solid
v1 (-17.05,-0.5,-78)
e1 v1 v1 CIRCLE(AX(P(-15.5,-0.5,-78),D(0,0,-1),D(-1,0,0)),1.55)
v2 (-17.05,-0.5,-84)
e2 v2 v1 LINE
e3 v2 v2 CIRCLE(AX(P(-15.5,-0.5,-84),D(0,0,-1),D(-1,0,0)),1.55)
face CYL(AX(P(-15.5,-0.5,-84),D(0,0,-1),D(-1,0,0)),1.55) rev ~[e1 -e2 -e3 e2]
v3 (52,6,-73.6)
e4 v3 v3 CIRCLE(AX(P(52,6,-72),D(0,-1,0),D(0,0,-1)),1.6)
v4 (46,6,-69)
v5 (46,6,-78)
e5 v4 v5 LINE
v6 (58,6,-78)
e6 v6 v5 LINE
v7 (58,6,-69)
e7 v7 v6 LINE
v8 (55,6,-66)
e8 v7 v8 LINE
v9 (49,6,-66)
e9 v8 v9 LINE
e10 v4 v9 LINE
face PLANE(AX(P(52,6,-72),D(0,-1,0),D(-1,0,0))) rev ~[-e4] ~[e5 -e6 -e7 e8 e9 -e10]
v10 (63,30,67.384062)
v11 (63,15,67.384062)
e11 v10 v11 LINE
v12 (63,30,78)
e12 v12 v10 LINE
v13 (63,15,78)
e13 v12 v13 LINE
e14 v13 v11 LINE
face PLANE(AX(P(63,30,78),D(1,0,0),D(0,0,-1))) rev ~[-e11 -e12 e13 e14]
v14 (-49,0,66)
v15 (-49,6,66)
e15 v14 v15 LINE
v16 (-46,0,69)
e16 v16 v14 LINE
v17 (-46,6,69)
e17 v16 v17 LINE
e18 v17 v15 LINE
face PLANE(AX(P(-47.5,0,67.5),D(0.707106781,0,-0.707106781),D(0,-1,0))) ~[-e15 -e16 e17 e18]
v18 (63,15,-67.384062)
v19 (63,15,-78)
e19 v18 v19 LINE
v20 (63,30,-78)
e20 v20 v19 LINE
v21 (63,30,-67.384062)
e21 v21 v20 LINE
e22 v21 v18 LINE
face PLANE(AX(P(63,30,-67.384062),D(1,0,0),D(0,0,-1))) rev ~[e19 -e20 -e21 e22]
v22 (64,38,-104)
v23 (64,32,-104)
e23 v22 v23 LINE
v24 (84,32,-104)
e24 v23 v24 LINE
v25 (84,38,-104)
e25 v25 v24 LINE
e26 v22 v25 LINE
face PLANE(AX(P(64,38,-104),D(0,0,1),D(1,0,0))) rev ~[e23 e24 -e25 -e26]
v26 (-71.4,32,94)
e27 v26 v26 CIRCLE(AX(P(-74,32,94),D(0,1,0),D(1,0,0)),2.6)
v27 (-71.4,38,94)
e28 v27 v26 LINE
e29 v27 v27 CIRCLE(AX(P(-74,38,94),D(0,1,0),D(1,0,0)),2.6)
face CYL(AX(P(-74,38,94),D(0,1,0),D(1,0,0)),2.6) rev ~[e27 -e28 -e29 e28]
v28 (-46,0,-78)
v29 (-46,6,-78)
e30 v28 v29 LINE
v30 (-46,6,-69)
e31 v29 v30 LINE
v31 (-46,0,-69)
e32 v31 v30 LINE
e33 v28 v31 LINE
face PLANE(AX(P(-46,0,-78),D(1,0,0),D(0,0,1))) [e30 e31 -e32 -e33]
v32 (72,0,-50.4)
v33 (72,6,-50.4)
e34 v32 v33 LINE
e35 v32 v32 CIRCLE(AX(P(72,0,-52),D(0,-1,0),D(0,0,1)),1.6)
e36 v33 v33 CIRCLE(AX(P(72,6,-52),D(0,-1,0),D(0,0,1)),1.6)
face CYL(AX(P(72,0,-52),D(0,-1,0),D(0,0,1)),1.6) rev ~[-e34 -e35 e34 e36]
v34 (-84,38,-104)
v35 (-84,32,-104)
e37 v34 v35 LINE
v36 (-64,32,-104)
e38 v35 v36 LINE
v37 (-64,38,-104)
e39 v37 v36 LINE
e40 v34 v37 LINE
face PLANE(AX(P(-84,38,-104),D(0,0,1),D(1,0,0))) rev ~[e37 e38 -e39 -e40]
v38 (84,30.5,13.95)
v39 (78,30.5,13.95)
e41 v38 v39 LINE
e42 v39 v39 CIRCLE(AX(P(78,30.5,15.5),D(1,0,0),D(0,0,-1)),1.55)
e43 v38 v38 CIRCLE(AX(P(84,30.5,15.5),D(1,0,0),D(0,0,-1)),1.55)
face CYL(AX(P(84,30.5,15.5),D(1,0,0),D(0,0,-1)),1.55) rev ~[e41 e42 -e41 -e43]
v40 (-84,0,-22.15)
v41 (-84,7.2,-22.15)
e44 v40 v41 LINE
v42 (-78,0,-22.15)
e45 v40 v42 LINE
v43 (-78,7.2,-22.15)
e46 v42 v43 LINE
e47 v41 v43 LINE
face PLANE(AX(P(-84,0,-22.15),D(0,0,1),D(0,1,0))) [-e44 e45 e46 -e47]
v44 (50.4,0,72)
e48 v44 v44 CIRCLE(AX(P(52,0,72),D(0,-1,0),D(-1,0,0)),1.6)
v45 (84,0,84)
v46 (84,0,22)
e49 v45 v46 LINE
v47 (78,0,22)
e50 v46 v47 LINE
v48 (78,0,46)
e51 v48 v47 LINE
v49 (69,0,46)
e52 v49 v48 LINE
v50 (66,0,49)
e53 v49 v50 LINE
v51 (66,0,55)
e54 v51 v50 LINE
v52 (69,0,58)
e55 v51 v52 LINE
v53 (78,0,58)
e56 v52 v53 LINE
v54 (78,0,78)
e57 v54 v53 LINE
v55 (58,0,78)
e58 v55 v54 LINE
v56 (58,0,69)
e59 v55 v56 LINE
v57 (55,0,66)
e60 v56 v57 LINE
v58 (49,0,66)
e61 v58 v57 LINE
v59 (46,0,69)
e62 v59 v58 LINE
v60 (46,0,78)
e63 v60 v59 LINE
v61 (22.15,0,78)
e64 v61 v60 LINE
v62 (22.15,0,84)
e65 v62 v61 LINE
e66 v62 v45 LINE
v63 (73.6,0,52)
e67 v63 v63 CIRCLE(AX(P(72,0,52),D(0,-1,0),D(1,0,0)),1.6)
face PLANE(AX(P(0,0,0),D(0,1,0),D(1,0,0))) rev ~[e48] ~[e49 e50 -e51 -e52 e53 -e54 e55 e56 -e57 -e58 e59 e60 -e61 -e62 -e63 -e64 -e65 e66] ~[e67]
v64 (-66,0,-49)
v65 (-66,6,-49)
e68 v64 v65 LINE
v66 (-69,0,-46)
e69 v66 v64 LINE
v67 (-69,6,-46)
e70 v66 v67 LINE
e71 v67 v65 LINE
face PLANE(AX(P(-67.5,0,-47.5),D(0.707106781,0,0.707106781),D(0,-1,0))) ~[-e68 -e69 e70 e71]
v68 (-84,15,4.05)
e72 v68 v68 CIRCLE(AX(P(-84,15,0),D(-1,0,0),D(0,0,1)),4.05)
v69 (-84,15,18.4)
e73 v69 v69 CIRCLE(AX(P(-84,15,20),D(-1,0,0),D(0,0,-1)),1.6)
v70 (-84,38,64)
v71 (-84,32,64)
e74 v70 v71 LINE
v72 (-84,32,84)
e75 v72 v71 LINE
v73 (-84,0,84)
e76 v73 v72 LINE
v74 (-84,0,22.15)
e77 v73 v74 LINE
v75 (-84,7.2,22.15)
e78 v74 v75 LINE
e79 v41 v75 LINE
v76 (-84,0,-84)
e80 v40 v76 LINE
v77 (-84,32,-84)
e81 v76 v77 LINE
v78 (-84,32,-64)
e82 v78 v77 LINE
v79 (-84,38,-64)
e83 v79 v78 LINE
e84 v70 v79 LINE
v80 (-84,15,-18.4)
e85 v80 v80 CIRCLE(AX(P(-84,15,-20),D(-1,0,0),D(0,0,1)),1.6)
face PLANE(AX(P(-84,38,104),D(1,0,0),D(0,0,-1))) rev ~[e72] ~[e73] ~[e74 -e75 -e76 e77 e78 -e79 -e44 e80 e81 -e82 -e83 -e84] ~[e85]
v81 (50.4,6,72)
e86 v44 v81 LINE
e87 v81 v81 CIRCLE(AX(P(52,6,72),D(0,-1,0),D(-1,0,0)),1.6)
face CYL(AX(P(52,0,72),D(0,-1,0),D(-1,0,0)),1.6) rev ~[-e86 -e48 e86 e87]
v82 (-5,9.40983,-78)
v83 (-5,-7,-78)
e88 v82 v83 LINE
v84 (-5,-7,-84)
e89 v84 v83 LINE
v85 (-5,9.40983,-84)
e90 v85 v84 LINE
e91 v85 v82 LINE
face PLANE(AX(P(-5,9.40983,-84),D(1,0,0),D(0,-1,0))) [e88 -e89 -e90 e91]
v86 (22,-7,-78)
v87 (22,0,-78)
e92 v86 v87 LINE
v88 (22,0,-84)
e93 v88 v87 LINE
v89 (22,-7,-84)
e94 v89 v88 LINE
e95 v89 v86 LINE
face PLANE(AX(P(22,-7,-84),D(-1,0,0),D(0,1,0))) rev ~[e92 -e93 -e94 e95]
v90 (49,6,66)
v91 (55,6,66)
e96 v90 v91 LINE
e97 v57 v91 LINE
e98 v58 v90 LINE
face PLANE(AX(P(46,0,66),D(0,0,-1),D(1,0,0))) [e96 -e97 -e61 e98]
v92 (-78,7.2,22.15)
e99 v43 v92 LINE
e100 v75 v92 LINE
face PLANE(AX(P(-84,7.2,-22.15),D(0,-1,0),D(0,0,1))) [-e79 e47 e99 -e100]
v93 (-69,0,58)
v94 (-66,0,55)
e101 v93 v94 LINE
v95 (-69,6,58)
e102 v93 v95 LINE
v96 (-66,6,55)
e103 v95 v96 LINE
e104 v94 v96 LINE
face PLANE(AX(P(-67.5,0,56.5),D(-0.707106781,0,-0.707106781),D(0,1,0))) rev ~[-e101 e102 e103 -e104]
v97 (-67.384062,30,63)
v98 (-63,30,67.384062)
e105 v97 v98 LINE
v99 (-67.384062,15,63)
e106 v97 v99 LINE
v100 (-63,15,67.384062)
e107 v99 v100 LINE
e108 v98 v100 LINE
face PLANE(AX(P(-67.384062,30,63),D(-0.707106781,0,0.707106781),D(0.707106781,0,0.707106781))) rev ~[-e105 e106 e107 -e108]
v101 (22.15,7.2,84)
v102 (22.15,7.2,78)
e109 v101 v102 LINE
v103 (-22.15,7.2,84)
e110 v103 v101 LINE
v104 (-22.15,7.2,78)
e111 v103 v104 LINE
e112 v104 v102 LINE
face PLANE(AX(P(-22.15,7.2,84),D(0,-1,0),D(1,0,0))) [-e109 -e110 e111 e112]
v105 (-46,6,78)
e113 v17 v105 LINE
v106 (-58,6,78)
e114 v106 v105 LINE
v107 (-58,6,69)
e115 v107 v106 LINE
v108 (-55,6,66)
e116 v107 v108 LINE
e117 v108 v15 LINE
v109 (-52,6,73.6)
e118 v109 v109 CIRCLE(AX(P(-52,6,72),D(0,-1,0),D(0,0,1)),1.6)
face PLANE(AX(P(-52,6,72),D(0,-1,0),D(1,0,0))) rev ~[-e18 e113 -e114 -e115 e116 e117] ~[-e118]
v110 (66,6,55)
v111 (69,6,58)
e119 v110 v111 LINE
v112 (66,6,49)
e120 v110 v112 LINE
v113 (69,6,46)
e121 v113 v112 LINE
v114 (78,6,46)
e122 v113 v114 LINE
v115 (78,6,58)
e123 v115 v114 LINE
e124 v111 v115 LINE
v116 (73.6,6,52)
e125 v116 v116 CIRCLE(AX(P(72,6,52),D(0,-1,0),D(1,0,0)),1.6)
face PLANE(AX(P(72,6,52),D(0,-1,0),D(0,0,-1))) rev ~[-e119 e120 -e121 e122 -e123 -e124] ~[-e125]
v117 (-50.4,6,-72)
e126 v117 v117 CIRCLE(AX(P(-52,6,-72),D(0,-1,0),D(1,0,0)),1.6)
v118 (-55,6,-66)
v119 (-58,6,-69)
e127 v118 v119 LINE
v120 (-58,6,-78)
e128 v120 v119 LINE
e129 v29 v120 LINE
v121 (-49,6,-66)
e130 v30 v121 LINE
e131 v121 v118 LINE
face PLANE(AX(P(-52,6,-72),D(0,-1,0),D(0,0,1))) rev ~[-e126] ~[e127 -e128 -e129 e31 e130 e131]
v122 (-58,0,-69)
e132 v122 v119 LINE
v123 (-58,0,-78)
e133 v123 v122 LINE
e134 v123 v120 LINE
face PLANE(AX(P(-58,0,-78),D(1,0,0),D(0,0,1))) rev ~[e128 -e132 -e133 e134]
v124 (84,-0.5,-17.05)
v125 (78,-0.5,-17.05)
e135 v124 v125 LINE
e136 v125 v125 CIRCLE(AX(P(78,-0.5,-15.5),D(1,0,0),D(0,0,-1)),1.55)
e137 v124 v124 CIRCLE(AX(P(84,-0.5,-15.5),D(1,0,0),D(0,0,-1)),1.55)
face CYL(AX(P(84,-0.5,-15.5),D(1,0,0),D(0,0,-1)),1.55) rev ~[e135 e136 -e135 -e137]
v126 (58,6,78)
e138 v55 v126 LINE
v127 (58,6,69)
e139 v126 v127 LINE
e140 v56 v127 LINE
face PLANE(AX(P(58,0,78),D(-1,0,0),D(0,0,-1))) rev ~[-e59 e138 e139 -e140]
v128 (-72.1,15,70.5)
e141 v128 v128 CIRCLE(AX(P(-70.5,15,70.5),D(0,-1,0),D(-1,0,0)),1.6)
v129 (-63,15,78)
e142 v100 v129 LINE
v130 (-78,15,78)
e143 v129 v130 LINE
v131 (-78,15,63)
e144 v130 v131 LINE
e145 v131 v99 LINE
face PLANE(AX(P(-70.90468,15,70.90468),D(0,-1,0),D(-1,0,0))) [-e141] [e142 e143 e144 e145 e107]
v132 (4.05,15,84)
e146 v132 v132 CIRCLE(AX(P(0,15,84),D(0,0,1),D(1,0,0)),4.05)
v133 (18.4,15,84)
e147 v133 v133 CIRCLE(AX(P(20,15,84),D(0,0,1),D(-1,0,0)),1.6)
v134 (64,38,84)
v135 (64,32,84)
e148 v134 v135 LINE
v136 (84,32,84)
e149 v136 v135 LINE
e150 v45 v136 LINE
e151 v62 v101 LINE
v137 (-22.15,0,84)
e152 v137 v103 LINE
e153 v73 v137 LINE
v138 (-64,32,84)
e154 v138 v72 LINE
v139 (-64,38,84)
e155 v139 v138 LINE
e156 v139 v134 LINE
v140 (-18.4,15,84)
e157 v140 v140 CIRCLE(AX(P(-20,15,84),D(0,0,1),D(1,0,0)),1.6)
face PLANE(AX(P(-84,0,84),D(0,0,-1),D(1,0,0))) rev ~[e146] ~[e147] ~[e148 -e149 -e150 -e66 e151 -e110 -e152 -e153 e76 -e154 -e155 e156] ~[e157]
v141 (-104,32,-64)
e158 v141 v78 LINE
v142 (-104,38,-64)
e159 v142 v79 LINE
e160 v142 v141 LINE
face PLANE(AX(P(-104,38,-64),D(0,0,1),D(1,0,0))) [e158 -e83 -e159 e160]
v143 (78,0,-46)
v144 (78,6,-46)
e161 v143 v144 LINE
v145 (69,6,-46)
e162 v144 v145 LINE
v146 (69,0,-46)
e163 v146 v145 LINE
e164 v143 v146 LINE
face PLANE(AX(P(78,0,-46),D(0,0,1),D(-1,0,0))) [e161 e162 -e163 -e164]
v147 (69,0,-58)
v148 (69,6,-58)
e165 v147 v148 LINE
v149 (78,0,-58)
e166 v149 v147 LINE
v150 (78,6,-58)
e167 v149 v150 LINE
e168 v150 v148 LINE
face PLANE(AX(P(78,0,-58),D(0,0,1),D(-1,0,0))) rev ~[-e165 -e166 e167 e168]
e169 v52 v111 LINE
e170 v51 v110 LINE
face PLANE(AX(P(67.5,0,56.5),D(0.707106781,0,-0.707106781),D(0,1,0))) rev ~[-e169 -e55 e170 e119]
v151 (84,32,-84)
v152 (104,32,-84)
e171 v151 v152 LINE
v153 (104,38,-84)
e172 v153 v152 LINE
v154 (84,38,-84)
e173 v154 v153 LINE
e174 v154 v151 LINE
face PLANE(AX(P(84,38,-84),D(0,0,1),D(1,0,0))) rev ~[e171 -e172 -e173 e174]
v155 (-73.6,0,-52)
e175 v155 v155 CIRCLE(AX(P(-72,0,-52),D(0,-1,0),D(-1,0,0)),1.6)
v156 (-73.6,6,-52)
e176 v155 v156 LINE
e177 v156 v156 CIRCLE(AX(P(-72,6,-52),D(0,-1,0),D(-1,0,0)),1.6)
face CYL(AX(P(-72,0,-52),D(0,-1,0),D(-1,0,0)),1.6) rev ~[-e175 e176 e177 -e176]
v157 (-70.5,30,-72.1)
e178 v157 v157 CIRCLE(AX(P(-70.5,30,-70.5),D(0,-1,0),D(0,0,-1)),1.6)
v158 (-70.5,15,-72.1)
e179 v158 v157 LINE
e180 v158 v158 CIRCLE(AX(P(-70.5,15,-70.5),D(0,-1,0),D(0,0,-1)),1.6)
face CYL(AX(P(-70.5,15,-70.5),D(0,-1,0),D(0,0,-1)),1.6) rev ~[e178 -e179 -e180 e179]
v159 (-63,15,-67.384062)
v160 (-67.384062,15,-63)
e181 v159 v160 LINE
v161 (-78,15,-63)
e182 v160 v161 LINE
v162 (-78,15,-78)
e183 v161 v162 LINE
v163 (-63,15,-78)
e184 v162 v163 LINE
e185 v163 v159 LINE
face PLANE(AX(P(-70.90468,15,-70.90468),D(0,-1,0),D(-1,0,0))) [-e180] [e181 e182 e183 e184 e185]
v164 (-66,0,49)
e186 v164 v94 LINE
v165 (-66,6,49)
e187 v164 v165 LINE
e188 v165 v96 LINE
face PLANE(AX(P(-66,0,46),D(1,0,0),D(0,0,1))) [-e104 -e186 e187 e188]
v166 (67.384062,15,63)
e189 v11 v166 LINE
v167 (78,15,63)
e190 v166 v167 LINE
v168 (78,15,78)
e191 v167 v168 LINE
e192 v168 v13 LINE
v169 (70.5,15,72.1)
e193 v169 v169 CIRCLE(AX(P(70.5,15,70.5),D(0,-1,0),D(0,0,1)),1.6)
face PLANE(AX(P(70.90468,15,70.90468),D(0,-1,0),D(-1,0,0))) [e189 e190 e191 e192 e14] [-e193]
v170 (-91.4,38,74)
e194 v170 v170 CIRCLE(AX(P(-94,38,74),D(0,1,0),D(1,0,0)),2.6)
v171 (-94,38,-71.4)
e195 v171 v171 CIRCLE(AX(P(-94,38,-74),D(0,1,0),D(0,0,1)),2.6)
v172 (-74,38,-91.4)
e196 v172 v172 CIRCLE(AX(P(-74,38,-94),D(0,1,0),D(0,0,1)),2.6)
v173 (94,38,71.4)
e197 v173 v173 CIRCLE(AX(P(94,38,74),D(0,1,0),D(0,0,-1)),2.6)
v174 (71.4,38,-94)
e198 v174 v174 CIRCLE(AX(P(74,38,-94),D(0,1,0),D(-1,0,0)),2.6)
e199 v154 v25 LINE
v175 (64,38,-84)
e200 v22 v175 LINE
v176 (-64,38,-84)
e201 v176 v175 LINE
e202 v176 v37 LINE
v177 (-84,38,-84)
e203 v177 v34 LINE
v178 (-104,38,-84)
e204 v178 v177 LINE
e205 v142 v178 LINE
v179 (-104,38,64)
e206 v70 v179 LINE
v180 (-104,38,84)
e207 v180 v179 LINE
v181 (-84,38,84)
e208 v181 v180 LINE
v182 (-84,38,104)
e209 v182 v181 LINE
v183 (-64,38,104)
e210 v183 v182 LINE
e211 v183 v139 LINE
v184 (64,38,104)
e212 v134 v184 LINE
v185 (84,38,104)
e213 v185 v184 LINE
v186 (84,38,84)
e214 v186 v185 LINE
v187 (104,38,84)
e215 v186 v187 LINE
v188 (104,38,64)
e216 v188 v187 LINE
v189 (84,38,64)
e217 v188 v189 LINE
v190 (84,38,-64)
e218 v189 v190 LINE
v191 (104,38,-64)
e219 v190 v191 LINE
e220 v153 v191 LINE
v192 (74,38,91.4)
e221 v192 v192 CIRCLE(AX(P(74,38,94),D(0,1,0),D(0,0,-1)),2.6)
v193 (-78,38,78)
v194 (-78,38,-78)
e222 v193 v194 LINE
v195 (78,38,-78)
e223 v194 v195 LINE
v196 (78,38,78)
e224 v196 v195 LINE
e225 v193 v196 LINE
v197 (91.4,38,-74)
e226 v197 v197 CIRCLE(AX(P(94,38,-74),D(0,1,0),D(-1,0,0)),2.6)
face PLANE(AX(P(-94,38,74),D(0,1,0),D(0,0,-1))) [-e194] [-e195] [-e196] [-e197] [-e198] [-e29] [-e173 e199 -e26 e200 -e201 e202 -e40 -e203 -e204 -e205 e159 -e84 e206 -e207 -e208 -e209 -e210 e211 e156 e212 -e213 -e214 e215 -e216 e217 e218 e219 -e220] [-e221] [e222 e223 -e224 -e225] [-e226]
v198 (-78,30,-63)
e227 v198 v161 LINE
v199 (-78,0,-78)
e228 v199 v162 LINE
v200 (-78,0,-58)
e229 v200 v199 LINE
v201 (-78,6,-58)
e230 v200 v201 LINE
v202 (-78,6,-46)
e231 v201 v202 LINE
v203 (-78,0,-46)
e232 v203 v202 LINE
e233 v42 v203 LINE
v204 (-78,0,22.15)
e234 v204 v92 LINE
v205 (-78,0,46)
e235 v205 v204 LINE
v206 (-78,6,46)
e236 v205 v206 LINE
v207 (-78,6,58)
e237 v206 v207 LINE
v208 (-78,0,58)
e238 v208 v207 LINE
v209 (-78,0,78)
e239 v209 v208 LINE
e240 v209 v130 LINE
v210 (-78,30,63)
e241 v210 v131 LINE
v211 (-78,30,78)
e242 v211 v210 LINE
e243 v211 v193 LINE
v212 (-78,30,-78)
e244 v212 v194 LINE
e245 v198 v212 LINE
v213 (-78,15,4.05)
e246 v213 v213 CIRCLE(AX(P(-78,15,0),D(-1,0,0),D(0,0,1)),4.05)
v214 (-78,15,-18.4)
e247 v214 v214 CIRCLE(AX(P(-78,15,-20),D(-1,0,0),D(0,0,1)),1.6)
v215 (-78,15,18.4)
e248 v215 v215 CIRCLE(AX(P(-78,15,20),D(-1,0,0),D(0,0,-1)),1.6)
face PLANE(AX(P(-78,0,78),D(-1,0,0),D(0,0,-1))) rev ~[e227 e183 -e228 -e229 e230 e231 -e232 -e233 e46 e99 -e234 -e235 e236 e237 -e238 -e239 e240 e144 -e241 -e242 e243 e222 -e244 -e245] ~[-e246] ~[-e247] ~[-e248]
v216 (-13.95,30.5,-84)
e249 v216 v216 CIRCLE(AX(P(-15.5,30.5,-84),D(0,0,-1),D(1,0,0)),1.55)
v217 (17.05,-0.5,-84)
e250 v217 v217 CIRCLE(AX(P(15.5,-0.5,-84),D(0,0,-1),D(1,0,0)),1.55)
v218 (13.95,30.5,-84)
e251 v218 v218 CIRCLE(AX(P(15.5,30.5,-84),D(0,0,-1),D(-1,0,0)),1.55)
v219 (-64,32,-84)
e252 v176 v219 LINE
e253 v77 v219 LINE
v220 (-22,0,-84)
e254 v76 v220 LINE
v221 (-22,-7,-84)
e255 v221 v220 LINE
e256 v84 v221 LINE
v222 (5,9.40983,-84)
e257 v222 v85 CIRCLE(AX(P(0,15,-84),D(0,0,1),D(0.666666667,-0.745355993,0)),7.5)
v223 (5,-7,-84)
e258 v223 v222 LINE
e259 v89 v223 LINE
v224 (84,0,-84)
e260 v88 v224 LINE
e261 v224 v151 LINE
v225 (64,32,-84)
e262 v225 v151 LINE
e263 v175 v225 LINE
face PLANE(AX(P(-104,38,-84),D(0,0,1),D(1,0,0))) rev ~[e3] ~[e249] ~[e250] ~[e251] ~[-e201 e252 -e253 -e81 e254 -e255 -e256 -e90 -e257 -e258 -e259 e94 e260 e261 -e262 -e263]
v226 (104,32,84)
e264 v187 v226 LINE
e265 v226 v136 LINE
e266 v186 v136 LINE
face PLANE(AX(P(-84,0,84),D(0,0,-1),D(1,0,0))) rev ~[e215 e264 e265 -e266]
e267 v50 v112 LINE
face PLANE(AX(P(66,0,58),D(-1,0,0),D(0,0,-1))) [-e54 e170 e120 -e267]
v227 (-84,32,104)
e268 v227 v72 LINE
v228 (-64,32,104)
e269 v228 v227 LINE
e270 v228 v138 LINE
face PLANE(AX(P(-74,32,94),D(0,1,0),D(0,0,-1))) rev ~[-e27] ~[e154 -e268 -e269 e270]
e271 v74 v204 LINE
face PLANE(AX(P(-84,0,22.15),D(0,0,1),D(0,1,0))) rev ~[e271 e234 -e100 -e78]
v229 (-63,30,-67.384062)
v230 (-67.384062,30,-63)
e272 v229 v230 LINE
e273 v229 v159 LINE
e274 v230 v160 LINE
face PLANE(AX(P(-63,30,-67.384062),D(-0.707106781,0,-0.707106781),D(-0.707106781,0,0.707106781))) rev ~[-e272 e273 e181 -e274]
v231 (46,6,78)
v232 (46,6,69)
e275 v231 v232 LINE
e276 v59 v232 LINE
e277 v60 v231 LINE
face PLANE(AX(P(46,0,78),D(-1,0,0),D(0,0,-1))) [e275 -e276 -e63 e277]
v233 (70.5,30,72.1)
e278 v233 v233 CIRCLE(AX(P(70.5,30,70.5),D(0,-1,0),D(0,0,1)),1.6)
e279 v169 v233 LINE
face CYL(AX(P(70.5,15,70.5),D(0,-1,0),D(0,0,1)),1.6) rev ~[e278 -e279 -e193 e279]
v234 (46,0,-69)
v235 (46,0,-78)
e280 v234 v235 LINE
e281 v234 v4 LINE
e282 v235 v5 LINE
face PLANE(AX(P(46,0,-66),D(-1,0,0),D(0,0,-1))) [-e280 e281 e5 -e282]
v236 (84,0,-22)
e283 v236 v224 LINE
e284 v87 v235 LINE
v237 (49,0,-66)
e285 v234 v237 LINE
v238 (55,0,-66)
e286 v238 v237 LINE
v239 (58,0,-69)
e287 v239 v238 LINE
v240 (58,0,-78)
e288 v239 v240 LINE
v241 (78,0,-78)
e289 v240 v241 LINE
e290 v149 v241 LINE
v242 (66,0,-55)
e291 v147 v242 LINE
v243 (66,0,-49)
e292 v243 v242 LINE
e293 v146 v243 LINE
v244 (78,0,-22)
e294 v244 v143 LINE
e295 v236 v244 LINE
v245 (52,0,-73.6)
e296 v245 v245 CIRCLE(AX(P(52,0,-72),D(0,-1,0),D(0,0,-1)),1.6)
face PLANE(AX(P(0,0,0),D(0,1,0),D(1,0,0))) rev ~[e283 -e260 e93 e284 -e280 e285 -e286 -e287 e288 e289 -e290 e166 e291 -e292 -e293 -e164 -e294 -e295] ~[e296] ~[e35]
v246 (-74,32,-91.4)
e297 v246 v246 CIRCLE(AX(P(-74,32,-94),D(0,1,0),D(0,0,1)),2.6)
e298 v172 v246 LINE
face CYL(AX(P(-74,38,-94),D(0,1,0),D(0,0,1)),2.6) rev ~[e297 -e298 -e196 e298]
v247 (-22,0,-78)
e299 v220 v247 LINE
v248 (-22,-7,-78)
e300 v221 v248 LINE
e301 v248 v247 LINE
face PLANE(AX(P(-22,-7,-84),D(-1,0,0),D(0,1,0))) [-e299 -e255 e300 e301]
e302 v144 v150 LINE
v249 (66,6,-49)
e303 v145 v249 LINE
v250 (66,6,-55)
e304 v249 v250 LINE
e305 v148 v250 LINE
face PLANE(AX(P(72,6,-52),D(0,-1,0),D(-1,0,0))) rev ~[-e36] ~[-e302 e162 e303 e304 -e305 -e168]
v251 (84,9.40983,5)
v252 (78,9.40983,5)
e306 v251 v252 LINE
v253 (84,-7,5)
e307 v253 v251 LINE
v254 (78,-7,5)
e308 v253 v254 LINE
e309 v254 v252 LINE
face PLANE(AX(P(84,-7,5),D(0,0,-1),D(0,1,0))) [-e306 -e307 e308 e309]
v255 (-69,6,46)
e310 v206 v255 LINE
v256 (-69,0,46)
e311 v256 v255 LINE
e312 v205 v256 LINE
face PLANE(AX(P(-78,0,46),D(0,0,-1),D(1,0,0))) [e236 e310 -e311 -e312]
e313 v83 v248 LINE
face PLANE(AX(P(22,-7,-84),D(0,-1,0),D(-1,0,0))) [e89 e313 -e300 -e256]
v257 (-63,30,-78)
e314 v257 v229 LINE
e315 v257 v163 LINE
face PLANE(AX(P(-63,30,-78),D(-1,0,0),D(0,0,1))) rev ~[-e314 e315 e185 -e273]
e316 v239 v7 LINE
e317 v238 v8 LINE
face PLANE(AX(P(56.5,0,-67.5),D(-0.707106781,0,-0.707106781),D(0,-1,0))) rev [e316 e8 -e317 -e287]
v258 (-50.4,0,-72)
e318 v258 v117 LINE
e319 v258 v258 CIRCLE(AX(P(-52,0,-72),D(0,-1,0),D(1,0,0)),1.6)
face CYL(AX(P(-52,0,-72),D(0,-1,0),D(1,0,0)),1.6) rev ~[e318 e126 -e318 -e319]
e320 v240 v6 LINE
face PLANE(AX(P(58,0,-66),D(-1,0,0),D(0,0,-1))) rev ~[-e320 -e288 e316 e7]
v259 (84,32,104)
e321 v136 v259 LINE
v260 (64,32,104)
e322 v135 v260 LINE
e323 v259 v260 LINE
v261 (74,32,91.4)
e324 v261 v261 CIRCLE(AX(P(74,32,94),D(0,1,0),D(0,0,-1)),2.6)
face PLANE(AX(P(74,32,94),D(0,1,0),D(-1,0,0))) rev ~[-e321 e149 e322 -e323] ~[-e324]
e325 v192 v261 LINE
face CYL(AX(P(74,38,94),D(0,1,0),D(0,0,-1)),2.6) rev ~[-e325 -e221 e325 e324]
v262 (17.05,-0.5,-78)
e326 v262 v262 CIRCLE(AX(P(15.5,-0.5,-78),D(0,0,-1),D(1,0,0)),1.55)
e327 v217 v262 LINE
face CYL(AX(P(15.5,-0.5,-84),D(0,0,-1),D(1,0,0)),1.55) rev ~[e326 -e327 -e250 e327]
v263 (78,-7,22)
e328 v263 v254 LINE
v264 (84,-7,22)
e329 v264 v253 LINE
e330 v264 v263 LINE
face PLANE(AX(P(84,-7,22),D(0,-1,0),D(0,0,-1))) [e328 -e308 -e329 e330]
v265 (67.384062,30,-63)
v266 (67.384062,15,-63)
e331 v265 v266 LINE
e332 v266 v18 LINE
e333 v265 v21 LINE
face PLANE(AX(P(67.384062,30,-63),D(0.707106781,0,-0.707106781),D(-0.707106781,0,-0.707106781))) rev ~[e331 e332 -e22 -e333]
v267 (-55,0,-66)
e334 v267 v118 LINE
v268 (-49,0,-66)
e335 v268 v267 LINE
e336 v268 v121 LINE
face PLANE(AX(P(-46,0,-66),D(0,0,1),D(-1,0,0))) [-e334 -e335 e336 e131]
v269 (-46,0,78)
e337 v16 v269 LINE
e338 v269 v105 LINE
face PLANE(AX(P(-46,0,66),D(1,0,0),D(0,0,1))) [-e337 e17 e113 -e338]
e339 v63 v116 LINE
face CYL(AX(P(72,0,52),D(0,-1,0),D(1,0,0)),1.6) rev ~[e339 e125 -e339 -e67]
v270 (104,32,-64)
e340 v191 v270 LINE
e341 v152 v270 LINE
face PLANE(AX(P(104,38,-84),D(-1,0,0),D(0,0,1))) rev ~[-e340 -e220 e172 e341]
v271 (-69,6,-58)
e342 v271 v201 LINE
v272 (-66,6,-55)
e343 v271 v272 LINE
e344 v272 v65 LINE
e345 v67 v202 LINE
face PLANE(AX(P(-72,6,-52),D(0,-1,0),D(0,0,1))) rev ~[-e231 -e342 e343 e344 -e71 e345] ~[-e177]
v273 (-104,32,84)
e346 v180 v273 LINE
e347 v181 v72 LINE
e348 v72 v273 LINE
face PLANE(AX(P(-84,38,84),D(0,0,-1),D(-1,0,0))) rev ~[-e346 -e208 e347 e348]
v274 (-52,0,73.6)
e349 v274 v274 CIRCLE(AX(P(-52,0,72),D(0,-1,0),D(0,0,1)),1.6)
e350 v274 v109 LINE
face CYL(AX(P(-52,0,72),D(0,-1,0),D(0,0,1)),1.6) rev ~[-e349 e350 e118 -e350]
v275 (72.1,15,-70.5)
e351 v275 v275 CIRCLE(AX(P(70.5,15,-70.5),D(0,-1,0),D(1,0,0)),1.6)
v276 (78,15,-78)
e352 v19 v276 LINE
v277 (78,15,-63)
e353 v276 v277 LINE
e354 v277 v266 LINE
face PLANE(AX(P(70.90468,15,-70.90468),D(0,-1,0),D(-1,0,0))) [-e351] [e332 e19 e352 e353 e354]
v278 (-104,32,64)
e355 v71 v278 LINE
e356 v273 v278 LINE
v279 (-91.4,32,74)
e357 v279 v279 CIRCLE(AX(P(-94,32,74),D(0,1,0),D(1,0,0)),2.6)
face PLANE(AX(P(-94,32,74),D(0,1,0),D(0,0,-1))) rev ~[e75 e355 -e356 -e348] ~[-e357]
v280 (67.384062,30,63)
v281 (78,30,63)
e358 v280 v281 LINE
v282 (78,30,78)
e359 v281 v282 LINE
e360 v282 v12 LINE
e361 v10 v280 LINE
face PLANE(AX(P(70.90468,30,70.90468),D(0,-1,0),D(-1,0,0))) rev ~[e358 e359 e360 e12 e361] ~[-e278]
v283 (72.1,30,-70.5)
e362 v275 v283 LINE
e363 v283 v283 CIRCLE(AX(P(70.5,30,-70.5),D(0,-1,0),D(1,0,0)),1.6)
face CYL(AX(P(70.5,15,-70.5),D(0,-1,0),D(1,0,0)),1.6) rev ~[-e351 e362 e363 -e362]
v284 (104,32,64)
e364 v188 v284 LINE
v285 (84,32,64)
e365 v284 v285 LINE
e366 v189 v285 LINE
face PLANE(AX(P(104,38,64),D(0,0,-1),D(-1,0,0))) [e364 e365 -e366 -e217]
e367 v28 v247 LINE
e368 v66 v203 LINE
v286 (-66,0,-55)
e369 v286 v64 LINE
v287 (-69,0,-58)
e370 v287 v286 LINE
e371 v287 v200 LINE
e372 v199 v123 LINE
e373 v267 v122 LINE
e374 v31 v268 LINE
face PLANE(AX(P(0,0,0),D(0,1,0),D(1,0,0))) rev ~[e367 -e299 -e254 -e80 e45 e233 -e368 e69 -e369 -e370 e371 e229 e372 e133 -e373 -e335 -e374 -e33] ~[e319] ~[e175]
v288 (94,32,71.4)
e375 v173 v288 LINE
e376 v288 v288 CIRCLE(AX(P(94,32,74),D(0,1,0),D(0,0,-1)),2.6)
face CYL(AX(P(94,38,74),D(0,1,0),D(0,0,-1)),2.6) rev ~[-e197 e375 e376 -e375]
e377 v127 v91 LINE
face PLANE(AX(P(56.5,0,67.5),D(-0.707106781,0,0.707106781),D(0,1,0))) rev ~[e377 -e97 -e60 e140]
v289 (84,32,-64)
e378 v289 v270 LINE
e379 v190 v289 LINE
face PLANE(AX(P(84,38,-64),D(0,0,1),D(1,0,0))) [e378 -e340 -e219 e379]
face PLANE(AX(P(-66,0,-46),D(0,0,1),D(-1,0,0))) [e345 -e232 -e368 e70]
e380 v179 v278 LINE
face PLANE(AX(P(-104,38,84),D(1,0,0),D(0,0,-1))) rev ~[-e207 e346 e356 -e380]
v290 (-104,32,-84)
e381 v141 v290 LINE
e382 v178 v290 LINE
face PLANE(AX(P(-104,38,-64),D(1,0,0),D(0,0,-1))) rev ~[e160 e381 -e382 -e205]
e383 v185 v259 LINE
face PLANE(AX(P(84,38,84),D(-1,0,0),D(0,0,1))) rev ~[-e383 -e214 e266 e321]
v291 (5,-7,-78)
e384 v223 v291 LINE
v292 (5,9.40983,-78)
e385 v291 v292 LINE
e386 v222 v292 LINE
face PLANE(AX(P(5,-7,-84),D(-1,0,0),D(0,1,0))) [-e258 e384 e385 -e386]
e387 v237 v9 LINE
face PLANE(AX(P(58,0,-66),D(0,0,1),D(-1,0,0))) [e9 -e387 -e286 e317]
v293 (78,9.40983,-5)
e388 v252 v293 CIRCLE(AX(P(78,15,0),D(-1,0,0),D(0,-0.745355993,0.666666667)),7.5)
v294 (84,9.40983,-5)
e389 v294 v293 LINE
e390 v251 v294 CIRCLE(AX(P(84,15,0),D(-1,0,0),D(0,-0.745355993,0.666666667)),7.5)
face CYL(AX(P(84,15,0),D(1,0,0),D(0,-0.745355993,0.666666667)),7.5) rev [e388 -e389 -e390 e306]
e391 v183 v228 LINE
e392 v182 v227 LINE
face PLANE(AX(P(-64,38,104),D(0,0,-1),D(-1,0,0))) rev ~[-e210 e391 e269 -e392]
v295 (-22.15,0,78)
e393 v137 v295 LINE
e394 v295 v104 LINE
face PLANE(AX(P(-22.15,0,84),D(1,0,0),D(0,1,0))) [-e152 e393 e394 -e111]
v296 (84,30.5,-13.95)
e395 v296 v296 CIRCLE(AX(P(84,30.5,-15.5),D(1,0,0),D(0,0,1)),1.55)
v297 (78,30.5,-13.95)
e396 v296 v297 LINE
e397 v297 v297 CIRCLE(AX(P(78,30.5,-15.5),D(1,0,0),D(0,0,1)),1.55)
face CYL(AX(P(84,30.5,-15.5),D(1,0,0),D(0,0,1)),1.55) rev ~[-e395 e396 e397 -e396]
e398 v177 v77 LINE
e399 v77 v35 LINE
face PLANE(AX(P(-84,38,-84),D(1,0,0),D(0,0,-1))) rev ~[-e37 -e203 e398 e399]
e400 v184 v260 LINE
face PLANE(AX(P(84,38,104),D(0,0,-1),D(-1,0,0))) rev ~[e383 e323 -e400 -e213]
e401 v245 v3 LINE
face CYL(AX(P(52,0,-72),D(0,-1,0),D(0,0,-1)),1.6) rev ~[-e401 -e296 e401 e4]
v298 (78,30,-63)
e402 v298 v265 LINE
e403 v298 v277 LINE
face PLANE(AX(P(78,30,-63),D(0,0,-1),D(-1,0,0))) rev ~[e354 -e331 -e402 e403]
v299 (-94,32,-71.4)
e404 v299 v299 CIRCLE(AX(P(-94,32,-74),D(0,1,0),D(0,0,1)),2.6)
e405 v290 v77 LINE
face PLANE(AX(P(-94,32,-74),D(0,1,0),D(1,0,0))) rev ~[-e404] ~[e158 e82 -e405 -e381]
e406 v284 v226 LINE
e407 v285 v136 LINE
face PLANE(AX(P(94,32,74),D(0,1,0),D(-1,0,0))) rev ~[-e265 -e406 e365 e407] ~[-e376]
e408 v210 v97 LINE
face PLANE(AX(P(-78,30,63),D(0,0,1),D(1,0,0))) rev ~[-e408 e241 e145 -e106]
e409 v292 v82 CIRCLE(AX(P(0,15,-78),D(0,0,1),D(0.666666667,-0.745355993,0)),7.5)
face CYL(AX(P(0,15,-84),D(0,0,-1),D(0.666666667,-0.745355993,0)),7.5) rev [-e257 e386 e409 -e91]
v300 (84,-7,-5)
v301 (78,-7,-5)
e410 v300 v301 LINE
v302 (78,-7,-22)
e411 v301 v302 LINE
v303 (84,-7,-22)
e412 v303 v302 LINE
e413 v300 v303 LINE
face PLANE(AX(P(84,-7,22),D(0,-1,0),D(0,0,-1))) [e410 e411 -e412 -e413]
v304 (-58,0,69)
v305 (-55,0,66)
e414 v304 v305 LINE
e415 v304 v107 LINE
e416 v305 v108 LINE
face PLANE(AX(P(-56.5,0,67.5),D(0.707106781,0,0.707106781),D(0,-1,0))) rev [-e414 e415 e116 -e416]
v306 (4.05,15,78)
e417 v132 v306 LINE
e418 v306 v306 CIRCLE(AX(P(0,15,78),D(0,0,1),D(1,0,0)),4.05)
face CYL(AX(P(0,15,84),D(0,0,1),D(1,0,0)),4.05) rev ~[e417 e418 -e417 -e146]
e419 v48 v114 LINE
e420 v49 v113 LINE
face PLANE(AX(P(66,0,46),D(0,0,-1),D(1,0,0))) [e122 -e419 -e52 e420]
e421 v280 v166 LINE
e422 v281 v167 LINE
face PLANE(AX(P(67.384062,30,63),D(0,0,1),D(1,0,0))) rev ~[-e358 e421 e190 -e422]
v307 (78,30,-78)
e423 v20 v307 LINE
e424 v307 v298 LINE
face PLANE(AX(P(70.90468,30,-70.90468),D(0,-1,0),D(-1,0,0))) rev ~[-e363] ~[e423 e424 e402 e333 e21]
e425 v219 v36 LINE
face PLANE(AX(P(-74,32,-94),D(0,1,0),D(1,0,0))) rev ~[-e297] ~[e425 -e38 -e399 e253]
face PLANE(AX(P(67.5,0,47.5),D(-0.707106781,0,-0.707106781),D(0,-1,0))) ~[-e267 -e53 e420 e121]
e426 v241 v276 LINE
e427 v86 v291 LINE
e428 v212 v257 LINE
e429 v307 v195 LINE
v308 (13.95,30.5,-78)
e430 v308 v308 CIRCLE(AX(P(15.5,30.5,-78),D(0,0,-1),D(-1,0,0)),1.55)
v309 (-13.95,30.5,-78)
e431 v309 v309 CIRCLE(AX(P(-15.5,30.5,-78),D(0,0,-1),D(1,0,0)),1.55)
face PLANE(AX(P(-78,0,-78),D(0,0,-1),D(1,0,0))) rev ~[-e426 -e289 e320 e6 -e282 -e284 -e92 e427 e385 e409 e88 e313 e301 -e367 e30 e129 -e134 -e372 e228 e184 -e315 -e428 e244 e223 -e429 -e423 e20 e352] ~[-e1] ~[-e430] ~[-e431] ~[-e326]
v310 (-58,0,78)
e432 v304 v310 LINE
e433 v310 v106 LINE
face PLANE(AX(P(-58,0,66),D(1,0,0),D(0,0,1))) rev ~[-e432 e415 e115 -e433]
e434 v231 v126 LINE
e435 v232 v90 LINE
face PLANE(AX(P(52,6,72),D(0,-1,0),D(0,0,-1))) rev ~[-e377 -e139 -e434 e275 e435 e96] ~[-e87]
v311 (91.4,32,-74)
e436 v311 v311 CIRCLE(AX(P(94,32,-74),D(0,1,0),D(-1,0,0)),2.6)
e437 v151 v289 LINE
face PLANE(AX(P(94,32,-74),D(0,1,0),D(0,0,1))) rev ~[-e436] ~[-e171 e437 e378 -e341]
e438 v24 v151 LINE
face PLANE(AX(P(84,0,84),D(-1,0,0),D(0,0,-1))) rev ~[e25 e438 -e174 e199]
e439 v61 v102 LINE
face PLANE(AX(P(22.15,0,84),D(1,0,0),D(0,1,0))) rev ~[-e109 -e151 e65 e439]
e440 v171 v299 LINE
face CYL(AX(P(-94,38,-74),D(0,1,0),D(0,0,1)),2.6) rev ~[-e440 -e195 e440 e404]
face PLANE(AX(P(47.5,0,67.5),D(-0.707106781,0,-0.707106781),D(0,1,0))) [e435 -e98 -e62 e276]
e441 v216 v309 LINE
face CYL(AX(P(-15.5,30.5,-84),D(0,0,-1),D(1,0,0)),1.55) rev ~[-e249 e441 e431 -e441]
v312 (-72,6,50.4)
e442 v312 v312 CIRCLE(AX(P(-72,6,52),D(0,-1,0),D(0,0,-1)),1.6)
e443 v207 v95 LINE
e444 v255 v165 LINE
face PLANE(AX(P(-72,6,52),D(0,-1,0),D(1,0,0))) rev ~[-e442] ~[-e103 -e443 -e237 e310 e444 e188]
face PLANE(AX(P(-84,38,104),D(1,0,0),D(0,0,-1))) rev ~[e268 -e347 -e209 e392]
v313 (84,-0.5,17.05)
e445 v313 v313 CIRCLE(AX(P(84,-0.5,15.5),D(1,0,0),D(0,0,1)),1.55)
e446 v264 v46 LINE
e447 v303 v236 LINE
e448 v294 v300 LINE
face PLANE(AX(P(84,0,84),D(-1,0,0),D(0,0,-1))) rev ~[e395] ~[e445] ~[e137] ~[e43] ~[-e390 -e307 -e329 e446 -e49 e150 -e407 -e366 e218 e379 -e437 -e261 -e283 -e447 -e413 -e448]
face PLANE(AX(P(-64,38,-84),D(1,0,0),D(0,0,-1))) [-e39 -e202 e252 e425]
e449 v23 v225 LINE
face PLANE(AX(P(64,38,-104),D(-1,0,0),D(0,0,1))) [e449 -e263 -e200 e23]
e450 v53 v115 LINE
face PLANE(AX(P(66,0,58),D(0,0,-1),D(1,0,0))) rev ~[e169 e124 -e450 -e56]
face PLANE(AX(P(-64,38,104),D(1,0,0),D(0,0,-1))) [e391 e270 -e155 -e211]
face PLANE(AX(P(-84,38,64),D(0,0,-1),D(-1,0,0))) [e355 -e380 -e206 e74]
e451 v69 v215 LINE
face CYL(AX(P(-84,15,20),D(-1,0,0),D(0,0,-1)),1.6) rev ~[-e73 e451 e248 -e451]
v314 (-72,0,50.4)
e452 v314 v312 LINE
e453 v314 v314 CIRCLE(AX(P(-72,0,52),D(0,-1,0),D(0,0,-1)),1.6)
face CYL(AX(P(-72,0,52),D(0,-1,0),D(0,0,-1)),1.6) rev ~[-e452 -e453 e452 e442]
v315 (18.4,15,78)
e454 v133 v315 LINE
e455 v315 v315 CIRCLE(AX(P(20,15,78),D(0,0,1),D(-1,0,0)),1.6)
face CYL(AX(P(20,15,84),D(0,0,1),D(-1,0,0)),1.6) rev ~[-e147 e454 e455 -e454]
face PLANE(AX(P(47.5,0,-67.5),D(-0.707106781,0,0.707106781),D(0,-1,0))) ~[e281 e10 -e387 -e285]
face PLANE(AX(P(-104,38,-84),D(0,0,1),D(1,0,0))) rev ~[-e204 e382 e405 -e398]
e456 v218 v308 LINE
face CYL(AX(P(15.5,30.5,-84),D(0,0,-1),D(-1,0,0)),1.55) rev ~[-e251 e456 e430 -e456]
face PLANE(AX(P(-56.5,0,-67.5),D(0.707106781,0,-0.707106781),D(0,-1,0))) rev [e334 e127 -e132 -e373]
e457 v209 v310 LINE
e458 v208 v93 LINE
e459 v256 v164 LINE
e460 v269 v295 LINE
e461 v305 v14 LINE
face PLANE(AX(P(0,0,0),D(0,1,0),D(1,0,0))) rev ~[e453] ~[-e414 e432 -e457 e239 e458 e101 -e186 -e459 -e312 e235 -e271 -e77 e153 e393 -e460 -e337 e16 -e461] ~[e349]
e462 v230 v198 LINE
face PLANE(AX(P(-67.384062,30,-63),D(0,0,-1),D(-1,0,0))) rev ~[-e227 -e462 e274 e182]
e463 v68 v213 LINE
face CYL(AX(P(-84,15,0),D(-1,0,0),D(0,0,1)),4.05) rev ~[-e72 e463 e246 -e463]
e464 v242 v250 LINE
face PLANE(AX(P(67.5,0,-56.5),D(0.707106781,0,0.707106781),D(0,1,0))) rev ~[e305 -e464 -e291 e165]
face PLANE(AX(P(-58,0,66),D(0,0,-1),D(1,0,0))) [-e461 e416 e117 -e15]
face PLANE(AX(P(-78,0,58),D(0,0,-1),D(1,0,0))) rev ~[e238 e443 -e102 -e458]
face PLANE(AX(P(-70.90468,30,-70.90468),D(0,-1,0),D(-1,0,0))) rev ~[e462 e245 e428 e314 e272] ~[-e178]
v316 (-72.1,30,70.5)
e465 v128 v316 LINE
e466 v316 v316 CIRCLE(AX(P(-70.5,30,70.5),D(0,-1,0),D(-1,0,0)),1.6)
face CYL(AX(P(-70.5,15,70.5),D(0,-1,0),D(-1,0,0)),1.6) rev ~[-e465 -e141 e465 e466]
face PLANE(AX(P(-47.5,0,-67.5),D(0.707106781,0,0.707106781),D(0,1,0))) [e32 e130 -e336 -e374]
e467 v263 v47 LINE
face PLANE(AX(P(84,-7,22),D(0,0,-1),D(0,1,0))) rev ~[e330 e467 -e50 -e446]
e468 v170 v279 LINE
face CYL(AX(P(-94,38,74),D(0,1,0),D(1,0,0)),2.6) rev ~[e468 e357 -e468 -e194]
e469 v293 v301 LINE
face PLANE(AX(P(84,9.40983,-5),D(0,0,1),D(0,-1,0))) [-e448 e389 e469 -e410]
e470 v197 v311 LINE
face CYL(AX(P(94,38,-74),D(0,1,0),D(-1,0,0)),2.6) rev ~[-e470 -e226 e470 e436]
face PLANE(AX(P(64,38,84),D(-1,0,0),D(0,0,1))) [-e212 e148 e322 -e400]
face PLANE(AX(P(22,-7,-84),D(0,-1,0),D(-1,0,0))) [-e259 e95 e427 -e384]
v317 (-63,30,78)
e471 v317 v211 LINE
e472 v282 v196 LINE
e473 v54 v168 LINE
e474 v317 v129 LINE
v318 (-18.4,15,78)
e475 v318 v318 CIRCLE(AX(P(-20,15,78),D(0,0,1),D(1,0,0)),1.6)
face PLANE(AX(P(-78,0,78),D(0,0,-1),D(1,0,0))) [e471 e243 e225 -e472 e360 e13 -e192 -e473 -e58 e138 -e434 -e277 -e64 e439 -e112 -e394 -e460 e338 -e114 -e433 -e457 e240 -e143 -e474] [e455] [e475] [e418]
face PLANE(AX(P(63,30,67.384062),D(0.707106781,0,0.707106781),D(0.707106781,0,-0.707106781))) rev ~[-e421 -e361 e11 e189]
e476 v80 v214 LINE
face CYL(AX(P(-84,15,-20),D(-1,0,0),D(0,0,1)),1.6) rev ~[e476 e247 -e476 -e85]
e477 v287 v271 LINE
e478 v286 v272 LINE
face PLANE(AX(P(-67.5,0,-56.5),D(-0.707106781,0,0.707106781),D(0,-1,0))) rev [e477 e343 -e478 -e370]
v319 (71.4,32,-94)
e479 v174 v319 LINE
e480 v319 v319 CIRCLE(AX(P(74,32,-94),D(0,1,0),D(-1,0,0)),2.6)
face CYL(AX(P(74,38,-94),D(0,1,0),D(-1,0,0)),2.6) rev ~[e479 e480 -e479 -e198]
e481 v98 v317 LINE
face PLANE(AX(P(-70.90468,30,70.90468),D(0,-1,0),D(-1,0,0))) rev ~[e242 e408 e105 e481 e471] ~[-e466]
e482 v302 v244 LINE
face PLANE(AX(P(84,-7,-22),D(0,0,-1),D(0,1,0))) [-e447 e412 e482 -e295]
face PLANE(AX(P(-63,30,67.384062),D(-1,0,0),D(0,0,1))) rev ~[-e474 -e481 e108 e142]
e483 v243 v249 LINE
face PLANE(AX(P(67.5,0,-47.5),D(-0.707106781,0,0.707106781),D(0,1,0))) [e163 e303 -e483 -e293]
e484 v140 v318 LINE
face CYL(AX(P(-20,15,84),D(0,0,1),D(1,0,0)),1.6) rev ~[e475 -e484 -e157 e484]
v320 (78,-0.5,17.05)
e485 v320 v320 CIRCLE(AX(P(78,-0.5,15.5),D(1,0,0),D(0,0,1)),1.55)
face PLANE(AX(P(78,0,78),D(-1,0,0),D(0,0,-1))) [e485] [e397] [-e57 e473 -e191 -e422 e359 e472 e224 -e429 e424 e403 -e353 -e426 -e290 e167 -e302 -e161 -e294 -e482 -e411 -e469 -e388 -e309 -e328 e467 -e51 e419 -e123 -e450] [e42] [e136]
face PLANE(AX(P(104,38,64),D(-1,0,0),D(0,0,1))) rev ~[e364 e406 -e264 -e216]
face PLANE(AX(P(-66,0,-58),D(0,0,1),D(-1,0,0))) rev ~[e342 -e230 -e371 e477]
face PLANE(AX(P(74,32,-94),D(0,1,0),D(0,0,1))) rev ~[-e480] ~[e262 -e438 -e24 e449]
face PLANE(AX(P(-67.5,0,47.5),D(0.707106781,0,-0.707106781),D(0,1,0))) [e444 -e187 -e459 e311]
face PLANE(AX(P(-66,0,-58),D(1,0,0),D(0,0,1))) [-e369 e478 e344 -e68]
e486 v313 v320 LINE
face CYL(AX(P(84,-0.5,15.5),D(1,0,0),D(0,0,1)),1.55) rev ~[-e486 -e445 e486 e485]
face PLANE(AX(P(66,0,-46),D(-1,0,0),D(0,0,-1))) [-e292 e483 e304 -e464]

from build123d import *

# Parameters (mm, degrees)
SKETCH_1_W                           = 168
SKETCH_1_H                           = 168
SKETCH_1_W_2                         = 156
SKETCH_1_H_2                         = 156
EXTRUDE_1_DEPTH                      = 38
EXTRUDE_2_DEPTH                      = 15
SKETCH_3_R                           = 1.6
CUT_EXTRUDE_1_DEPTH                  = 122
PATTERN_CIRCULAR_1_COUNT             = 4
SKETCH_8_W                           = 20
SKETCH_8_H                           = 20
SKETCH_8_R                           = 2.6
EXTRUDE_3_DEPTH                      = 6
SKETCH_9_W                           = 20
SKETCH_9_H                           = 20
SKETCH_9_R                           = 2.6
EXTRUDE_4_DEPTH                      = 6
PATTERN_CIRCULAR_2_COUNT             = 4
SKETCH_10_W                          = 44
SKETCH_10_H                          = 7
EXTRUDE_5_DEPTH                      = 6
SKETCH_11_R                          = 1.55
CUT_EXTRUDE_3_DEPTH                  = 6
PATTERN_CIRCULAR_3_COUNT             = 2
PATTERN_CIRCULAR_3_ANGLE             = 90
SKETCH_12_R                          = 4.05
SKETCH_12_W                          = 44.3
SKETCH_12_H                          = 7.2
CUT_EXTRUDE_4_DEPTH                  = 6
SKETCH_16_R                          = 1.6
CUT_EXTRUDE_6_DEPTH                  = 6
PATTERN_CIRCULAR_4_COUNT             = 2
PATTERN_CIRCULAR_4_ANGLE             = 90
SKETCH_13_W                          = 12
SKETCH_13_H                          = 12
EXTRUDE_6_DEPTH                      = 6
SKETCH_15_R                          = 1.6
CUT_EXTRUDE_5_DEPTH                  = 6
CHAMFER_1_SIZE                       = 3
PATTERN_CIRCULAR_5_COUNT             = 4
CHAMFER_1_OF_PATTERN_CIRCULAR_5_SIZE = 3


with BuildPart() as part:
    # 草图1 → 凸台-拉伸1 (new body)
    with BuildSketch(Plane(origin=(0, 0, 0), x_dir=(1, 0, 0), z_dir=(0, 1, 0))):
        Rectangle(SKETCH_1_W, SKETCH_1_H)
        Rectangle(SKETCH_1_W_2, SKETCH_1_H_2, mode=Mode.SUBTRACT)
    extrude(amount=EXTRUDE_1_DEPTH)

    # 草图2 → 凸台-拉伸2 (add)
    with BuildSketch(Plane(origin=(0, 30, 0), x_dir=(1, 0, 0), z_dir=(0, 1, 0))):
        Polygon((-67.384062043, 63), (-78, 63), (-78, 78), (-63, 78), (-63, 67.384062043), align=None)
        Polygon((67.384062043, 63), (63, 67.384062043), (63, 78), (78, 78), (78, 63), align=None)
        Polygon((63, -67.384062043), (67.384062043, -63), (78, -63), (78, -78), (63, -78), align=None)
        Polygon((-67.384062043, -63), (-63, -67.384062043), (-63, -78), (-78, -78), (-78, -63), align=None)
    extrude(amount=-EXTRUDE_2_DEPTH)

    # 草图3 → 切除-拉伸1 (cut, through all)
    with BuildSketch(Plane(origin=(0, 15, 0), x_dir=(-1, 0, 0), z_dir=(0, -1, 0))):
        with Locations(Location((70.5, 70.5, 0), (0, 0, 90))):
            Circle(SKETCH_3_R)
    cut_extrude_1 = extrude(amount=-CUT_EXTRUDE_1_DEPTH, mode=Mode.SUBTRACT)

    # 阵列(圆周)1: 切除-拉伸1 ×4 about axis
    pattern_circular_1_axis = Axis((0, 0, 0), (0, 1, 0))
    for i in range(1, PATTERN_CIRCULAR_1_COUNT):
        add(cut_extrude_1.rotate(pattern_circular_1_axis, i * 360 / PATTERN_CIRCULAR_1_COUNT), mode=Mode.SUBTRACT)

    # 草图8 → 凸台-拉伸3 (add)
    with BuildSketch(Plane(origin=(0, 38, 0), x_dir=(1, 0, 0), z_dir=(0, 1, 0))):
        with Locations((-94, 74)):
            Rectangle(SKETCH_8_W, SKETCH_8_H)
        with Locations(Location((-94, 74, 0), (0, 0, 270))):
            Circle(SKETCH_8_R, mode=Mode.SUBTRACT)
    extrude_3 = extrude(amount=-EXTRUDE_3_DEPTH)

    # 草图9 → 凸台-拉伸4 (add)
    with BuildSketch(Plane(origin=(0, 38, 0), x_dir=(1, 0, 0), z_dir=(0, 1, 0))):
        with Locations((-74, 94)):
            Rectangle(SKETCH_9_W, SKETCH_9_H)
        with Locations(Location((-74, 94, 0), (0, 0, 270))):
            Circle(SKETCH_9_R, mode=Mode.SUBTRACT)
    extrude_4 = extrude(amount=-EXTRUDE_4_DEPTH)

    # 阵列(圆周)2: 凸台-拉伸3, 凸台-拉伸4 ×4 about axis
    pattern_circular_2_axis = Axis((0, 0, 0), (0, 1, 0))
    add([extrude_3.rotate(pattern_circular_2_axis, i * 360 / PATTERN_CIRCULAR_2_COUNT) for i in range(1, PATTERN_CIRCULAR_2_COUNT)])
    add([extrude_4.rotate(pattern_circular_2_axis, i * 360 / PATTERN_CIRCULAR_2_COUNT) for i in range(1, PATTERN_CIRCULAR_2_COUNT)])

    # 草图10 → 凸台-拉伸5 (add)
    with BuildSketch(Plane(origin=(0, 0, -84), x_dir=(-1, 0, 0), z_dir=(0, 0, -1))):
        with Locations((0, -3.5)):
            Rectangle(SKETCH_10_W, SKETCH_10_H)
    extrude_5 = extrude(amount=-EXTRUDE_5_DEPTH)

    # 草图11 → 切除-拉伸3 (cut)
    with BuildSketch(Plane(origin=(0, 0, -84), x_dir=(-1, 0, 0), z_dir=(0, 0, -1))):
        with Locations((-15.5, 30.5)):
            Circle(SKETCH_11_R)
        with Locations(Location((15.5, 30.5, 0), (0, 0, 180))):
            Circle(SKETCH_11_R)
        with Locations((15.5, -0.5)):
            Circle(SKETCH_11_R)
        with Locations(Location((-15.5, -0.5, 0), (0, 0, 180))):
            Circle(SKETCH_11_R)
        with BuildLine():
            Line((-5, -7), (-5, 9.409830056))
            ThreePointArc((-5, 9.409830056), (0, 22.5), (5, 9.409830056))
            Line((5, 9.409830056), (5, -7))
            Line((5, -7), (-5, -7))
        make_face()
    cut_extrude_3 = extrude(amount=-CUT_EXTRUDE_3_DEPTH, mode=Mode.SUBTRACT)

    # 阵列(圆周)3: 凸台-拉伸5, 切除-拉伸3 ×2 about axis
    pattern_circular_3_axis = Axis((0, 0, 0), (0, -1, 0))
    add([extrude_5.rotate(pattern_circular_3_axis, i * PATTERN_CIRCULAR_3_ANGLE / (PATTERN_CIRCULAR_3_COUNT - 1)) for i in range(1, PATTERN_CIRCULAR_3_COUNT)])
    add([cut_extrude_3.rotate(pattern_circular_3_axis, i * PATTERN_CIRCULAR_3_ANGLE / (PATTERN_CIRCULAR_3_COUNT - 1)) for i in range(1, PATTERN_CIRCULAR_3_COUNT)], mode=Mode.SUBTRACT)

    # 草图12 → 切除-拉伸4 (cut)
    with BuildSketch(Plane.XY.offset(84)):
        with Locations((0, 15)):
            Circle(SKETCH_12_R)
        with Locations((0, 3.6)):
            Rectangle(SKETCH_12_W, SKETCH_12_H)
    cut_extrude_4 = extrude(amount=-CUT_EXTRUDE_4_DEPTH, mode=Mode.SUBTRACT)

    # 草图16 → 切除-拉伸6 (cut)
    with BuildSketch(Plane.XY.offset(84)):
        with Locations((-20, 15)):
            Circle(SKETCH_16_R)
        with Locations(Location((20, 15, 0), (0, 0, 180))):
            Circle(SKETCH_16_R)
    cut_extrude_6 = extrude(amount=-CUT_EXTRUDE_6_DEPTH, mode=Mode.SUBTRACT)

    # 阵列(圆周)4: 切除-拉伸4, 切除-拉伸6 ×2 about axis
    pattern_circular_4_axis = Axis((0, 0, 0), (0, -1, 0))
    add([cut_extrude_4.rotate(pattern_circular_4_axis, i * PATTERN_CIRCULAR_4_ANGLE / (PATTERN_CIRCULAR_4_COUNT - 1)) for i in range(1, PATTERN_CIRCULAR_4_COUNT)], mode=Mode.SUBTRACT)
    add([cut_extrude_6.rotate(pattern_circular_4_axis, i * PATTERN_CIRCULAR_4_ANGLE / (PATTERN_CIRCULAR_4_COUNT - 1)) for i in range(1, PATTERN_CIRCULAR_4_COUNT)], mode=Mode.SUBTRACT)

    # 草图13 → 凸台-拉伸6 (add)
    with BuildSketch(Plane.XZ):
        with Locations((-72, 52)):
            Rectangle(SKETCH_13_W, SKETCH_13_H)
        with Locations((-52, 72)):
            Rectangle(SKETCH_13_W, SKETCH_13_H)
    extrude_6 = extrude(amount=-EXTRUDE_6_DEPTH)

    # 草图15 → 切除-拉伸5 (cut)
    with BuildSketch(Plane.XZ):
        with Locations(Location((-72, 52, 0), (0, 0, 270))):
            Circle(SKETCH_15_R)
        with Locations(Location((-52, 72, 0), (0, 0, 90))):
            Circle(SKETCH_15_R)
    cut_extrude_5 = extrude(amount=-CUT_EXTRUDE_5_DEPTH, mode=Mode.SUBTRACT)

    # 倒角1
    chamfer_1_edges = [part.edges().sort_by_distance(p)[0] for p in [
        (-66, 3, 58),
        (-66, 3, 46),
        (-46, 3, 66),
        (-58, 3, 66),
    ]]
    chamfer(chamfer_1_edges, length=CHAMFER_1_SIZE)

    # 阵列(圆周)5: 凸台-拉伸6, 切除-拉伸5 ×4 about axis
    pattern_circular_5_axis = Axis((0, 0, 0), (0, 1, 0))
    add([extrude_6.rotate(pattern_circular_5_axis, i * 360 / PATTERN_CIRCULAR_5_COUNT) for i in range(1, PATTERN_CIRCULAR_5_COUNT)])
    add([cut_extrude_5.rotate(pattern_circular_5_axis, i * 360 / PATTERN_CIRCULAR_5_COUNT) for i in range(1, PATTERN_CIRCULAR_5_COUNT)], mode=Mode.SUBTRACT)

    # 倒角1 of 阵列(圆周)5
    chamfer_1_of_pattern_circular_5_edges = [part.edges().sort_by_distance(p)[0] for p in [
        (58, 3, 66),
        (46, 3, 66),
        (66, 3, 46),
        (66, 3, 58),
        (66, 3, -58),
        (66, 3, -46),
        (46, 3, -66),
        (58, 3, -66),
        (-58, 3, -66),
        (-46, 3, -66),
        (-66, 3, -46),
        (-66, 3, -58),
    ]]
    chamfer(chamfer_1_of_pattern_circular_5_edges, length=CHAMFER_1_OF_PATTERN_CIRCULAR_5_SIZE)


solid = part.part
